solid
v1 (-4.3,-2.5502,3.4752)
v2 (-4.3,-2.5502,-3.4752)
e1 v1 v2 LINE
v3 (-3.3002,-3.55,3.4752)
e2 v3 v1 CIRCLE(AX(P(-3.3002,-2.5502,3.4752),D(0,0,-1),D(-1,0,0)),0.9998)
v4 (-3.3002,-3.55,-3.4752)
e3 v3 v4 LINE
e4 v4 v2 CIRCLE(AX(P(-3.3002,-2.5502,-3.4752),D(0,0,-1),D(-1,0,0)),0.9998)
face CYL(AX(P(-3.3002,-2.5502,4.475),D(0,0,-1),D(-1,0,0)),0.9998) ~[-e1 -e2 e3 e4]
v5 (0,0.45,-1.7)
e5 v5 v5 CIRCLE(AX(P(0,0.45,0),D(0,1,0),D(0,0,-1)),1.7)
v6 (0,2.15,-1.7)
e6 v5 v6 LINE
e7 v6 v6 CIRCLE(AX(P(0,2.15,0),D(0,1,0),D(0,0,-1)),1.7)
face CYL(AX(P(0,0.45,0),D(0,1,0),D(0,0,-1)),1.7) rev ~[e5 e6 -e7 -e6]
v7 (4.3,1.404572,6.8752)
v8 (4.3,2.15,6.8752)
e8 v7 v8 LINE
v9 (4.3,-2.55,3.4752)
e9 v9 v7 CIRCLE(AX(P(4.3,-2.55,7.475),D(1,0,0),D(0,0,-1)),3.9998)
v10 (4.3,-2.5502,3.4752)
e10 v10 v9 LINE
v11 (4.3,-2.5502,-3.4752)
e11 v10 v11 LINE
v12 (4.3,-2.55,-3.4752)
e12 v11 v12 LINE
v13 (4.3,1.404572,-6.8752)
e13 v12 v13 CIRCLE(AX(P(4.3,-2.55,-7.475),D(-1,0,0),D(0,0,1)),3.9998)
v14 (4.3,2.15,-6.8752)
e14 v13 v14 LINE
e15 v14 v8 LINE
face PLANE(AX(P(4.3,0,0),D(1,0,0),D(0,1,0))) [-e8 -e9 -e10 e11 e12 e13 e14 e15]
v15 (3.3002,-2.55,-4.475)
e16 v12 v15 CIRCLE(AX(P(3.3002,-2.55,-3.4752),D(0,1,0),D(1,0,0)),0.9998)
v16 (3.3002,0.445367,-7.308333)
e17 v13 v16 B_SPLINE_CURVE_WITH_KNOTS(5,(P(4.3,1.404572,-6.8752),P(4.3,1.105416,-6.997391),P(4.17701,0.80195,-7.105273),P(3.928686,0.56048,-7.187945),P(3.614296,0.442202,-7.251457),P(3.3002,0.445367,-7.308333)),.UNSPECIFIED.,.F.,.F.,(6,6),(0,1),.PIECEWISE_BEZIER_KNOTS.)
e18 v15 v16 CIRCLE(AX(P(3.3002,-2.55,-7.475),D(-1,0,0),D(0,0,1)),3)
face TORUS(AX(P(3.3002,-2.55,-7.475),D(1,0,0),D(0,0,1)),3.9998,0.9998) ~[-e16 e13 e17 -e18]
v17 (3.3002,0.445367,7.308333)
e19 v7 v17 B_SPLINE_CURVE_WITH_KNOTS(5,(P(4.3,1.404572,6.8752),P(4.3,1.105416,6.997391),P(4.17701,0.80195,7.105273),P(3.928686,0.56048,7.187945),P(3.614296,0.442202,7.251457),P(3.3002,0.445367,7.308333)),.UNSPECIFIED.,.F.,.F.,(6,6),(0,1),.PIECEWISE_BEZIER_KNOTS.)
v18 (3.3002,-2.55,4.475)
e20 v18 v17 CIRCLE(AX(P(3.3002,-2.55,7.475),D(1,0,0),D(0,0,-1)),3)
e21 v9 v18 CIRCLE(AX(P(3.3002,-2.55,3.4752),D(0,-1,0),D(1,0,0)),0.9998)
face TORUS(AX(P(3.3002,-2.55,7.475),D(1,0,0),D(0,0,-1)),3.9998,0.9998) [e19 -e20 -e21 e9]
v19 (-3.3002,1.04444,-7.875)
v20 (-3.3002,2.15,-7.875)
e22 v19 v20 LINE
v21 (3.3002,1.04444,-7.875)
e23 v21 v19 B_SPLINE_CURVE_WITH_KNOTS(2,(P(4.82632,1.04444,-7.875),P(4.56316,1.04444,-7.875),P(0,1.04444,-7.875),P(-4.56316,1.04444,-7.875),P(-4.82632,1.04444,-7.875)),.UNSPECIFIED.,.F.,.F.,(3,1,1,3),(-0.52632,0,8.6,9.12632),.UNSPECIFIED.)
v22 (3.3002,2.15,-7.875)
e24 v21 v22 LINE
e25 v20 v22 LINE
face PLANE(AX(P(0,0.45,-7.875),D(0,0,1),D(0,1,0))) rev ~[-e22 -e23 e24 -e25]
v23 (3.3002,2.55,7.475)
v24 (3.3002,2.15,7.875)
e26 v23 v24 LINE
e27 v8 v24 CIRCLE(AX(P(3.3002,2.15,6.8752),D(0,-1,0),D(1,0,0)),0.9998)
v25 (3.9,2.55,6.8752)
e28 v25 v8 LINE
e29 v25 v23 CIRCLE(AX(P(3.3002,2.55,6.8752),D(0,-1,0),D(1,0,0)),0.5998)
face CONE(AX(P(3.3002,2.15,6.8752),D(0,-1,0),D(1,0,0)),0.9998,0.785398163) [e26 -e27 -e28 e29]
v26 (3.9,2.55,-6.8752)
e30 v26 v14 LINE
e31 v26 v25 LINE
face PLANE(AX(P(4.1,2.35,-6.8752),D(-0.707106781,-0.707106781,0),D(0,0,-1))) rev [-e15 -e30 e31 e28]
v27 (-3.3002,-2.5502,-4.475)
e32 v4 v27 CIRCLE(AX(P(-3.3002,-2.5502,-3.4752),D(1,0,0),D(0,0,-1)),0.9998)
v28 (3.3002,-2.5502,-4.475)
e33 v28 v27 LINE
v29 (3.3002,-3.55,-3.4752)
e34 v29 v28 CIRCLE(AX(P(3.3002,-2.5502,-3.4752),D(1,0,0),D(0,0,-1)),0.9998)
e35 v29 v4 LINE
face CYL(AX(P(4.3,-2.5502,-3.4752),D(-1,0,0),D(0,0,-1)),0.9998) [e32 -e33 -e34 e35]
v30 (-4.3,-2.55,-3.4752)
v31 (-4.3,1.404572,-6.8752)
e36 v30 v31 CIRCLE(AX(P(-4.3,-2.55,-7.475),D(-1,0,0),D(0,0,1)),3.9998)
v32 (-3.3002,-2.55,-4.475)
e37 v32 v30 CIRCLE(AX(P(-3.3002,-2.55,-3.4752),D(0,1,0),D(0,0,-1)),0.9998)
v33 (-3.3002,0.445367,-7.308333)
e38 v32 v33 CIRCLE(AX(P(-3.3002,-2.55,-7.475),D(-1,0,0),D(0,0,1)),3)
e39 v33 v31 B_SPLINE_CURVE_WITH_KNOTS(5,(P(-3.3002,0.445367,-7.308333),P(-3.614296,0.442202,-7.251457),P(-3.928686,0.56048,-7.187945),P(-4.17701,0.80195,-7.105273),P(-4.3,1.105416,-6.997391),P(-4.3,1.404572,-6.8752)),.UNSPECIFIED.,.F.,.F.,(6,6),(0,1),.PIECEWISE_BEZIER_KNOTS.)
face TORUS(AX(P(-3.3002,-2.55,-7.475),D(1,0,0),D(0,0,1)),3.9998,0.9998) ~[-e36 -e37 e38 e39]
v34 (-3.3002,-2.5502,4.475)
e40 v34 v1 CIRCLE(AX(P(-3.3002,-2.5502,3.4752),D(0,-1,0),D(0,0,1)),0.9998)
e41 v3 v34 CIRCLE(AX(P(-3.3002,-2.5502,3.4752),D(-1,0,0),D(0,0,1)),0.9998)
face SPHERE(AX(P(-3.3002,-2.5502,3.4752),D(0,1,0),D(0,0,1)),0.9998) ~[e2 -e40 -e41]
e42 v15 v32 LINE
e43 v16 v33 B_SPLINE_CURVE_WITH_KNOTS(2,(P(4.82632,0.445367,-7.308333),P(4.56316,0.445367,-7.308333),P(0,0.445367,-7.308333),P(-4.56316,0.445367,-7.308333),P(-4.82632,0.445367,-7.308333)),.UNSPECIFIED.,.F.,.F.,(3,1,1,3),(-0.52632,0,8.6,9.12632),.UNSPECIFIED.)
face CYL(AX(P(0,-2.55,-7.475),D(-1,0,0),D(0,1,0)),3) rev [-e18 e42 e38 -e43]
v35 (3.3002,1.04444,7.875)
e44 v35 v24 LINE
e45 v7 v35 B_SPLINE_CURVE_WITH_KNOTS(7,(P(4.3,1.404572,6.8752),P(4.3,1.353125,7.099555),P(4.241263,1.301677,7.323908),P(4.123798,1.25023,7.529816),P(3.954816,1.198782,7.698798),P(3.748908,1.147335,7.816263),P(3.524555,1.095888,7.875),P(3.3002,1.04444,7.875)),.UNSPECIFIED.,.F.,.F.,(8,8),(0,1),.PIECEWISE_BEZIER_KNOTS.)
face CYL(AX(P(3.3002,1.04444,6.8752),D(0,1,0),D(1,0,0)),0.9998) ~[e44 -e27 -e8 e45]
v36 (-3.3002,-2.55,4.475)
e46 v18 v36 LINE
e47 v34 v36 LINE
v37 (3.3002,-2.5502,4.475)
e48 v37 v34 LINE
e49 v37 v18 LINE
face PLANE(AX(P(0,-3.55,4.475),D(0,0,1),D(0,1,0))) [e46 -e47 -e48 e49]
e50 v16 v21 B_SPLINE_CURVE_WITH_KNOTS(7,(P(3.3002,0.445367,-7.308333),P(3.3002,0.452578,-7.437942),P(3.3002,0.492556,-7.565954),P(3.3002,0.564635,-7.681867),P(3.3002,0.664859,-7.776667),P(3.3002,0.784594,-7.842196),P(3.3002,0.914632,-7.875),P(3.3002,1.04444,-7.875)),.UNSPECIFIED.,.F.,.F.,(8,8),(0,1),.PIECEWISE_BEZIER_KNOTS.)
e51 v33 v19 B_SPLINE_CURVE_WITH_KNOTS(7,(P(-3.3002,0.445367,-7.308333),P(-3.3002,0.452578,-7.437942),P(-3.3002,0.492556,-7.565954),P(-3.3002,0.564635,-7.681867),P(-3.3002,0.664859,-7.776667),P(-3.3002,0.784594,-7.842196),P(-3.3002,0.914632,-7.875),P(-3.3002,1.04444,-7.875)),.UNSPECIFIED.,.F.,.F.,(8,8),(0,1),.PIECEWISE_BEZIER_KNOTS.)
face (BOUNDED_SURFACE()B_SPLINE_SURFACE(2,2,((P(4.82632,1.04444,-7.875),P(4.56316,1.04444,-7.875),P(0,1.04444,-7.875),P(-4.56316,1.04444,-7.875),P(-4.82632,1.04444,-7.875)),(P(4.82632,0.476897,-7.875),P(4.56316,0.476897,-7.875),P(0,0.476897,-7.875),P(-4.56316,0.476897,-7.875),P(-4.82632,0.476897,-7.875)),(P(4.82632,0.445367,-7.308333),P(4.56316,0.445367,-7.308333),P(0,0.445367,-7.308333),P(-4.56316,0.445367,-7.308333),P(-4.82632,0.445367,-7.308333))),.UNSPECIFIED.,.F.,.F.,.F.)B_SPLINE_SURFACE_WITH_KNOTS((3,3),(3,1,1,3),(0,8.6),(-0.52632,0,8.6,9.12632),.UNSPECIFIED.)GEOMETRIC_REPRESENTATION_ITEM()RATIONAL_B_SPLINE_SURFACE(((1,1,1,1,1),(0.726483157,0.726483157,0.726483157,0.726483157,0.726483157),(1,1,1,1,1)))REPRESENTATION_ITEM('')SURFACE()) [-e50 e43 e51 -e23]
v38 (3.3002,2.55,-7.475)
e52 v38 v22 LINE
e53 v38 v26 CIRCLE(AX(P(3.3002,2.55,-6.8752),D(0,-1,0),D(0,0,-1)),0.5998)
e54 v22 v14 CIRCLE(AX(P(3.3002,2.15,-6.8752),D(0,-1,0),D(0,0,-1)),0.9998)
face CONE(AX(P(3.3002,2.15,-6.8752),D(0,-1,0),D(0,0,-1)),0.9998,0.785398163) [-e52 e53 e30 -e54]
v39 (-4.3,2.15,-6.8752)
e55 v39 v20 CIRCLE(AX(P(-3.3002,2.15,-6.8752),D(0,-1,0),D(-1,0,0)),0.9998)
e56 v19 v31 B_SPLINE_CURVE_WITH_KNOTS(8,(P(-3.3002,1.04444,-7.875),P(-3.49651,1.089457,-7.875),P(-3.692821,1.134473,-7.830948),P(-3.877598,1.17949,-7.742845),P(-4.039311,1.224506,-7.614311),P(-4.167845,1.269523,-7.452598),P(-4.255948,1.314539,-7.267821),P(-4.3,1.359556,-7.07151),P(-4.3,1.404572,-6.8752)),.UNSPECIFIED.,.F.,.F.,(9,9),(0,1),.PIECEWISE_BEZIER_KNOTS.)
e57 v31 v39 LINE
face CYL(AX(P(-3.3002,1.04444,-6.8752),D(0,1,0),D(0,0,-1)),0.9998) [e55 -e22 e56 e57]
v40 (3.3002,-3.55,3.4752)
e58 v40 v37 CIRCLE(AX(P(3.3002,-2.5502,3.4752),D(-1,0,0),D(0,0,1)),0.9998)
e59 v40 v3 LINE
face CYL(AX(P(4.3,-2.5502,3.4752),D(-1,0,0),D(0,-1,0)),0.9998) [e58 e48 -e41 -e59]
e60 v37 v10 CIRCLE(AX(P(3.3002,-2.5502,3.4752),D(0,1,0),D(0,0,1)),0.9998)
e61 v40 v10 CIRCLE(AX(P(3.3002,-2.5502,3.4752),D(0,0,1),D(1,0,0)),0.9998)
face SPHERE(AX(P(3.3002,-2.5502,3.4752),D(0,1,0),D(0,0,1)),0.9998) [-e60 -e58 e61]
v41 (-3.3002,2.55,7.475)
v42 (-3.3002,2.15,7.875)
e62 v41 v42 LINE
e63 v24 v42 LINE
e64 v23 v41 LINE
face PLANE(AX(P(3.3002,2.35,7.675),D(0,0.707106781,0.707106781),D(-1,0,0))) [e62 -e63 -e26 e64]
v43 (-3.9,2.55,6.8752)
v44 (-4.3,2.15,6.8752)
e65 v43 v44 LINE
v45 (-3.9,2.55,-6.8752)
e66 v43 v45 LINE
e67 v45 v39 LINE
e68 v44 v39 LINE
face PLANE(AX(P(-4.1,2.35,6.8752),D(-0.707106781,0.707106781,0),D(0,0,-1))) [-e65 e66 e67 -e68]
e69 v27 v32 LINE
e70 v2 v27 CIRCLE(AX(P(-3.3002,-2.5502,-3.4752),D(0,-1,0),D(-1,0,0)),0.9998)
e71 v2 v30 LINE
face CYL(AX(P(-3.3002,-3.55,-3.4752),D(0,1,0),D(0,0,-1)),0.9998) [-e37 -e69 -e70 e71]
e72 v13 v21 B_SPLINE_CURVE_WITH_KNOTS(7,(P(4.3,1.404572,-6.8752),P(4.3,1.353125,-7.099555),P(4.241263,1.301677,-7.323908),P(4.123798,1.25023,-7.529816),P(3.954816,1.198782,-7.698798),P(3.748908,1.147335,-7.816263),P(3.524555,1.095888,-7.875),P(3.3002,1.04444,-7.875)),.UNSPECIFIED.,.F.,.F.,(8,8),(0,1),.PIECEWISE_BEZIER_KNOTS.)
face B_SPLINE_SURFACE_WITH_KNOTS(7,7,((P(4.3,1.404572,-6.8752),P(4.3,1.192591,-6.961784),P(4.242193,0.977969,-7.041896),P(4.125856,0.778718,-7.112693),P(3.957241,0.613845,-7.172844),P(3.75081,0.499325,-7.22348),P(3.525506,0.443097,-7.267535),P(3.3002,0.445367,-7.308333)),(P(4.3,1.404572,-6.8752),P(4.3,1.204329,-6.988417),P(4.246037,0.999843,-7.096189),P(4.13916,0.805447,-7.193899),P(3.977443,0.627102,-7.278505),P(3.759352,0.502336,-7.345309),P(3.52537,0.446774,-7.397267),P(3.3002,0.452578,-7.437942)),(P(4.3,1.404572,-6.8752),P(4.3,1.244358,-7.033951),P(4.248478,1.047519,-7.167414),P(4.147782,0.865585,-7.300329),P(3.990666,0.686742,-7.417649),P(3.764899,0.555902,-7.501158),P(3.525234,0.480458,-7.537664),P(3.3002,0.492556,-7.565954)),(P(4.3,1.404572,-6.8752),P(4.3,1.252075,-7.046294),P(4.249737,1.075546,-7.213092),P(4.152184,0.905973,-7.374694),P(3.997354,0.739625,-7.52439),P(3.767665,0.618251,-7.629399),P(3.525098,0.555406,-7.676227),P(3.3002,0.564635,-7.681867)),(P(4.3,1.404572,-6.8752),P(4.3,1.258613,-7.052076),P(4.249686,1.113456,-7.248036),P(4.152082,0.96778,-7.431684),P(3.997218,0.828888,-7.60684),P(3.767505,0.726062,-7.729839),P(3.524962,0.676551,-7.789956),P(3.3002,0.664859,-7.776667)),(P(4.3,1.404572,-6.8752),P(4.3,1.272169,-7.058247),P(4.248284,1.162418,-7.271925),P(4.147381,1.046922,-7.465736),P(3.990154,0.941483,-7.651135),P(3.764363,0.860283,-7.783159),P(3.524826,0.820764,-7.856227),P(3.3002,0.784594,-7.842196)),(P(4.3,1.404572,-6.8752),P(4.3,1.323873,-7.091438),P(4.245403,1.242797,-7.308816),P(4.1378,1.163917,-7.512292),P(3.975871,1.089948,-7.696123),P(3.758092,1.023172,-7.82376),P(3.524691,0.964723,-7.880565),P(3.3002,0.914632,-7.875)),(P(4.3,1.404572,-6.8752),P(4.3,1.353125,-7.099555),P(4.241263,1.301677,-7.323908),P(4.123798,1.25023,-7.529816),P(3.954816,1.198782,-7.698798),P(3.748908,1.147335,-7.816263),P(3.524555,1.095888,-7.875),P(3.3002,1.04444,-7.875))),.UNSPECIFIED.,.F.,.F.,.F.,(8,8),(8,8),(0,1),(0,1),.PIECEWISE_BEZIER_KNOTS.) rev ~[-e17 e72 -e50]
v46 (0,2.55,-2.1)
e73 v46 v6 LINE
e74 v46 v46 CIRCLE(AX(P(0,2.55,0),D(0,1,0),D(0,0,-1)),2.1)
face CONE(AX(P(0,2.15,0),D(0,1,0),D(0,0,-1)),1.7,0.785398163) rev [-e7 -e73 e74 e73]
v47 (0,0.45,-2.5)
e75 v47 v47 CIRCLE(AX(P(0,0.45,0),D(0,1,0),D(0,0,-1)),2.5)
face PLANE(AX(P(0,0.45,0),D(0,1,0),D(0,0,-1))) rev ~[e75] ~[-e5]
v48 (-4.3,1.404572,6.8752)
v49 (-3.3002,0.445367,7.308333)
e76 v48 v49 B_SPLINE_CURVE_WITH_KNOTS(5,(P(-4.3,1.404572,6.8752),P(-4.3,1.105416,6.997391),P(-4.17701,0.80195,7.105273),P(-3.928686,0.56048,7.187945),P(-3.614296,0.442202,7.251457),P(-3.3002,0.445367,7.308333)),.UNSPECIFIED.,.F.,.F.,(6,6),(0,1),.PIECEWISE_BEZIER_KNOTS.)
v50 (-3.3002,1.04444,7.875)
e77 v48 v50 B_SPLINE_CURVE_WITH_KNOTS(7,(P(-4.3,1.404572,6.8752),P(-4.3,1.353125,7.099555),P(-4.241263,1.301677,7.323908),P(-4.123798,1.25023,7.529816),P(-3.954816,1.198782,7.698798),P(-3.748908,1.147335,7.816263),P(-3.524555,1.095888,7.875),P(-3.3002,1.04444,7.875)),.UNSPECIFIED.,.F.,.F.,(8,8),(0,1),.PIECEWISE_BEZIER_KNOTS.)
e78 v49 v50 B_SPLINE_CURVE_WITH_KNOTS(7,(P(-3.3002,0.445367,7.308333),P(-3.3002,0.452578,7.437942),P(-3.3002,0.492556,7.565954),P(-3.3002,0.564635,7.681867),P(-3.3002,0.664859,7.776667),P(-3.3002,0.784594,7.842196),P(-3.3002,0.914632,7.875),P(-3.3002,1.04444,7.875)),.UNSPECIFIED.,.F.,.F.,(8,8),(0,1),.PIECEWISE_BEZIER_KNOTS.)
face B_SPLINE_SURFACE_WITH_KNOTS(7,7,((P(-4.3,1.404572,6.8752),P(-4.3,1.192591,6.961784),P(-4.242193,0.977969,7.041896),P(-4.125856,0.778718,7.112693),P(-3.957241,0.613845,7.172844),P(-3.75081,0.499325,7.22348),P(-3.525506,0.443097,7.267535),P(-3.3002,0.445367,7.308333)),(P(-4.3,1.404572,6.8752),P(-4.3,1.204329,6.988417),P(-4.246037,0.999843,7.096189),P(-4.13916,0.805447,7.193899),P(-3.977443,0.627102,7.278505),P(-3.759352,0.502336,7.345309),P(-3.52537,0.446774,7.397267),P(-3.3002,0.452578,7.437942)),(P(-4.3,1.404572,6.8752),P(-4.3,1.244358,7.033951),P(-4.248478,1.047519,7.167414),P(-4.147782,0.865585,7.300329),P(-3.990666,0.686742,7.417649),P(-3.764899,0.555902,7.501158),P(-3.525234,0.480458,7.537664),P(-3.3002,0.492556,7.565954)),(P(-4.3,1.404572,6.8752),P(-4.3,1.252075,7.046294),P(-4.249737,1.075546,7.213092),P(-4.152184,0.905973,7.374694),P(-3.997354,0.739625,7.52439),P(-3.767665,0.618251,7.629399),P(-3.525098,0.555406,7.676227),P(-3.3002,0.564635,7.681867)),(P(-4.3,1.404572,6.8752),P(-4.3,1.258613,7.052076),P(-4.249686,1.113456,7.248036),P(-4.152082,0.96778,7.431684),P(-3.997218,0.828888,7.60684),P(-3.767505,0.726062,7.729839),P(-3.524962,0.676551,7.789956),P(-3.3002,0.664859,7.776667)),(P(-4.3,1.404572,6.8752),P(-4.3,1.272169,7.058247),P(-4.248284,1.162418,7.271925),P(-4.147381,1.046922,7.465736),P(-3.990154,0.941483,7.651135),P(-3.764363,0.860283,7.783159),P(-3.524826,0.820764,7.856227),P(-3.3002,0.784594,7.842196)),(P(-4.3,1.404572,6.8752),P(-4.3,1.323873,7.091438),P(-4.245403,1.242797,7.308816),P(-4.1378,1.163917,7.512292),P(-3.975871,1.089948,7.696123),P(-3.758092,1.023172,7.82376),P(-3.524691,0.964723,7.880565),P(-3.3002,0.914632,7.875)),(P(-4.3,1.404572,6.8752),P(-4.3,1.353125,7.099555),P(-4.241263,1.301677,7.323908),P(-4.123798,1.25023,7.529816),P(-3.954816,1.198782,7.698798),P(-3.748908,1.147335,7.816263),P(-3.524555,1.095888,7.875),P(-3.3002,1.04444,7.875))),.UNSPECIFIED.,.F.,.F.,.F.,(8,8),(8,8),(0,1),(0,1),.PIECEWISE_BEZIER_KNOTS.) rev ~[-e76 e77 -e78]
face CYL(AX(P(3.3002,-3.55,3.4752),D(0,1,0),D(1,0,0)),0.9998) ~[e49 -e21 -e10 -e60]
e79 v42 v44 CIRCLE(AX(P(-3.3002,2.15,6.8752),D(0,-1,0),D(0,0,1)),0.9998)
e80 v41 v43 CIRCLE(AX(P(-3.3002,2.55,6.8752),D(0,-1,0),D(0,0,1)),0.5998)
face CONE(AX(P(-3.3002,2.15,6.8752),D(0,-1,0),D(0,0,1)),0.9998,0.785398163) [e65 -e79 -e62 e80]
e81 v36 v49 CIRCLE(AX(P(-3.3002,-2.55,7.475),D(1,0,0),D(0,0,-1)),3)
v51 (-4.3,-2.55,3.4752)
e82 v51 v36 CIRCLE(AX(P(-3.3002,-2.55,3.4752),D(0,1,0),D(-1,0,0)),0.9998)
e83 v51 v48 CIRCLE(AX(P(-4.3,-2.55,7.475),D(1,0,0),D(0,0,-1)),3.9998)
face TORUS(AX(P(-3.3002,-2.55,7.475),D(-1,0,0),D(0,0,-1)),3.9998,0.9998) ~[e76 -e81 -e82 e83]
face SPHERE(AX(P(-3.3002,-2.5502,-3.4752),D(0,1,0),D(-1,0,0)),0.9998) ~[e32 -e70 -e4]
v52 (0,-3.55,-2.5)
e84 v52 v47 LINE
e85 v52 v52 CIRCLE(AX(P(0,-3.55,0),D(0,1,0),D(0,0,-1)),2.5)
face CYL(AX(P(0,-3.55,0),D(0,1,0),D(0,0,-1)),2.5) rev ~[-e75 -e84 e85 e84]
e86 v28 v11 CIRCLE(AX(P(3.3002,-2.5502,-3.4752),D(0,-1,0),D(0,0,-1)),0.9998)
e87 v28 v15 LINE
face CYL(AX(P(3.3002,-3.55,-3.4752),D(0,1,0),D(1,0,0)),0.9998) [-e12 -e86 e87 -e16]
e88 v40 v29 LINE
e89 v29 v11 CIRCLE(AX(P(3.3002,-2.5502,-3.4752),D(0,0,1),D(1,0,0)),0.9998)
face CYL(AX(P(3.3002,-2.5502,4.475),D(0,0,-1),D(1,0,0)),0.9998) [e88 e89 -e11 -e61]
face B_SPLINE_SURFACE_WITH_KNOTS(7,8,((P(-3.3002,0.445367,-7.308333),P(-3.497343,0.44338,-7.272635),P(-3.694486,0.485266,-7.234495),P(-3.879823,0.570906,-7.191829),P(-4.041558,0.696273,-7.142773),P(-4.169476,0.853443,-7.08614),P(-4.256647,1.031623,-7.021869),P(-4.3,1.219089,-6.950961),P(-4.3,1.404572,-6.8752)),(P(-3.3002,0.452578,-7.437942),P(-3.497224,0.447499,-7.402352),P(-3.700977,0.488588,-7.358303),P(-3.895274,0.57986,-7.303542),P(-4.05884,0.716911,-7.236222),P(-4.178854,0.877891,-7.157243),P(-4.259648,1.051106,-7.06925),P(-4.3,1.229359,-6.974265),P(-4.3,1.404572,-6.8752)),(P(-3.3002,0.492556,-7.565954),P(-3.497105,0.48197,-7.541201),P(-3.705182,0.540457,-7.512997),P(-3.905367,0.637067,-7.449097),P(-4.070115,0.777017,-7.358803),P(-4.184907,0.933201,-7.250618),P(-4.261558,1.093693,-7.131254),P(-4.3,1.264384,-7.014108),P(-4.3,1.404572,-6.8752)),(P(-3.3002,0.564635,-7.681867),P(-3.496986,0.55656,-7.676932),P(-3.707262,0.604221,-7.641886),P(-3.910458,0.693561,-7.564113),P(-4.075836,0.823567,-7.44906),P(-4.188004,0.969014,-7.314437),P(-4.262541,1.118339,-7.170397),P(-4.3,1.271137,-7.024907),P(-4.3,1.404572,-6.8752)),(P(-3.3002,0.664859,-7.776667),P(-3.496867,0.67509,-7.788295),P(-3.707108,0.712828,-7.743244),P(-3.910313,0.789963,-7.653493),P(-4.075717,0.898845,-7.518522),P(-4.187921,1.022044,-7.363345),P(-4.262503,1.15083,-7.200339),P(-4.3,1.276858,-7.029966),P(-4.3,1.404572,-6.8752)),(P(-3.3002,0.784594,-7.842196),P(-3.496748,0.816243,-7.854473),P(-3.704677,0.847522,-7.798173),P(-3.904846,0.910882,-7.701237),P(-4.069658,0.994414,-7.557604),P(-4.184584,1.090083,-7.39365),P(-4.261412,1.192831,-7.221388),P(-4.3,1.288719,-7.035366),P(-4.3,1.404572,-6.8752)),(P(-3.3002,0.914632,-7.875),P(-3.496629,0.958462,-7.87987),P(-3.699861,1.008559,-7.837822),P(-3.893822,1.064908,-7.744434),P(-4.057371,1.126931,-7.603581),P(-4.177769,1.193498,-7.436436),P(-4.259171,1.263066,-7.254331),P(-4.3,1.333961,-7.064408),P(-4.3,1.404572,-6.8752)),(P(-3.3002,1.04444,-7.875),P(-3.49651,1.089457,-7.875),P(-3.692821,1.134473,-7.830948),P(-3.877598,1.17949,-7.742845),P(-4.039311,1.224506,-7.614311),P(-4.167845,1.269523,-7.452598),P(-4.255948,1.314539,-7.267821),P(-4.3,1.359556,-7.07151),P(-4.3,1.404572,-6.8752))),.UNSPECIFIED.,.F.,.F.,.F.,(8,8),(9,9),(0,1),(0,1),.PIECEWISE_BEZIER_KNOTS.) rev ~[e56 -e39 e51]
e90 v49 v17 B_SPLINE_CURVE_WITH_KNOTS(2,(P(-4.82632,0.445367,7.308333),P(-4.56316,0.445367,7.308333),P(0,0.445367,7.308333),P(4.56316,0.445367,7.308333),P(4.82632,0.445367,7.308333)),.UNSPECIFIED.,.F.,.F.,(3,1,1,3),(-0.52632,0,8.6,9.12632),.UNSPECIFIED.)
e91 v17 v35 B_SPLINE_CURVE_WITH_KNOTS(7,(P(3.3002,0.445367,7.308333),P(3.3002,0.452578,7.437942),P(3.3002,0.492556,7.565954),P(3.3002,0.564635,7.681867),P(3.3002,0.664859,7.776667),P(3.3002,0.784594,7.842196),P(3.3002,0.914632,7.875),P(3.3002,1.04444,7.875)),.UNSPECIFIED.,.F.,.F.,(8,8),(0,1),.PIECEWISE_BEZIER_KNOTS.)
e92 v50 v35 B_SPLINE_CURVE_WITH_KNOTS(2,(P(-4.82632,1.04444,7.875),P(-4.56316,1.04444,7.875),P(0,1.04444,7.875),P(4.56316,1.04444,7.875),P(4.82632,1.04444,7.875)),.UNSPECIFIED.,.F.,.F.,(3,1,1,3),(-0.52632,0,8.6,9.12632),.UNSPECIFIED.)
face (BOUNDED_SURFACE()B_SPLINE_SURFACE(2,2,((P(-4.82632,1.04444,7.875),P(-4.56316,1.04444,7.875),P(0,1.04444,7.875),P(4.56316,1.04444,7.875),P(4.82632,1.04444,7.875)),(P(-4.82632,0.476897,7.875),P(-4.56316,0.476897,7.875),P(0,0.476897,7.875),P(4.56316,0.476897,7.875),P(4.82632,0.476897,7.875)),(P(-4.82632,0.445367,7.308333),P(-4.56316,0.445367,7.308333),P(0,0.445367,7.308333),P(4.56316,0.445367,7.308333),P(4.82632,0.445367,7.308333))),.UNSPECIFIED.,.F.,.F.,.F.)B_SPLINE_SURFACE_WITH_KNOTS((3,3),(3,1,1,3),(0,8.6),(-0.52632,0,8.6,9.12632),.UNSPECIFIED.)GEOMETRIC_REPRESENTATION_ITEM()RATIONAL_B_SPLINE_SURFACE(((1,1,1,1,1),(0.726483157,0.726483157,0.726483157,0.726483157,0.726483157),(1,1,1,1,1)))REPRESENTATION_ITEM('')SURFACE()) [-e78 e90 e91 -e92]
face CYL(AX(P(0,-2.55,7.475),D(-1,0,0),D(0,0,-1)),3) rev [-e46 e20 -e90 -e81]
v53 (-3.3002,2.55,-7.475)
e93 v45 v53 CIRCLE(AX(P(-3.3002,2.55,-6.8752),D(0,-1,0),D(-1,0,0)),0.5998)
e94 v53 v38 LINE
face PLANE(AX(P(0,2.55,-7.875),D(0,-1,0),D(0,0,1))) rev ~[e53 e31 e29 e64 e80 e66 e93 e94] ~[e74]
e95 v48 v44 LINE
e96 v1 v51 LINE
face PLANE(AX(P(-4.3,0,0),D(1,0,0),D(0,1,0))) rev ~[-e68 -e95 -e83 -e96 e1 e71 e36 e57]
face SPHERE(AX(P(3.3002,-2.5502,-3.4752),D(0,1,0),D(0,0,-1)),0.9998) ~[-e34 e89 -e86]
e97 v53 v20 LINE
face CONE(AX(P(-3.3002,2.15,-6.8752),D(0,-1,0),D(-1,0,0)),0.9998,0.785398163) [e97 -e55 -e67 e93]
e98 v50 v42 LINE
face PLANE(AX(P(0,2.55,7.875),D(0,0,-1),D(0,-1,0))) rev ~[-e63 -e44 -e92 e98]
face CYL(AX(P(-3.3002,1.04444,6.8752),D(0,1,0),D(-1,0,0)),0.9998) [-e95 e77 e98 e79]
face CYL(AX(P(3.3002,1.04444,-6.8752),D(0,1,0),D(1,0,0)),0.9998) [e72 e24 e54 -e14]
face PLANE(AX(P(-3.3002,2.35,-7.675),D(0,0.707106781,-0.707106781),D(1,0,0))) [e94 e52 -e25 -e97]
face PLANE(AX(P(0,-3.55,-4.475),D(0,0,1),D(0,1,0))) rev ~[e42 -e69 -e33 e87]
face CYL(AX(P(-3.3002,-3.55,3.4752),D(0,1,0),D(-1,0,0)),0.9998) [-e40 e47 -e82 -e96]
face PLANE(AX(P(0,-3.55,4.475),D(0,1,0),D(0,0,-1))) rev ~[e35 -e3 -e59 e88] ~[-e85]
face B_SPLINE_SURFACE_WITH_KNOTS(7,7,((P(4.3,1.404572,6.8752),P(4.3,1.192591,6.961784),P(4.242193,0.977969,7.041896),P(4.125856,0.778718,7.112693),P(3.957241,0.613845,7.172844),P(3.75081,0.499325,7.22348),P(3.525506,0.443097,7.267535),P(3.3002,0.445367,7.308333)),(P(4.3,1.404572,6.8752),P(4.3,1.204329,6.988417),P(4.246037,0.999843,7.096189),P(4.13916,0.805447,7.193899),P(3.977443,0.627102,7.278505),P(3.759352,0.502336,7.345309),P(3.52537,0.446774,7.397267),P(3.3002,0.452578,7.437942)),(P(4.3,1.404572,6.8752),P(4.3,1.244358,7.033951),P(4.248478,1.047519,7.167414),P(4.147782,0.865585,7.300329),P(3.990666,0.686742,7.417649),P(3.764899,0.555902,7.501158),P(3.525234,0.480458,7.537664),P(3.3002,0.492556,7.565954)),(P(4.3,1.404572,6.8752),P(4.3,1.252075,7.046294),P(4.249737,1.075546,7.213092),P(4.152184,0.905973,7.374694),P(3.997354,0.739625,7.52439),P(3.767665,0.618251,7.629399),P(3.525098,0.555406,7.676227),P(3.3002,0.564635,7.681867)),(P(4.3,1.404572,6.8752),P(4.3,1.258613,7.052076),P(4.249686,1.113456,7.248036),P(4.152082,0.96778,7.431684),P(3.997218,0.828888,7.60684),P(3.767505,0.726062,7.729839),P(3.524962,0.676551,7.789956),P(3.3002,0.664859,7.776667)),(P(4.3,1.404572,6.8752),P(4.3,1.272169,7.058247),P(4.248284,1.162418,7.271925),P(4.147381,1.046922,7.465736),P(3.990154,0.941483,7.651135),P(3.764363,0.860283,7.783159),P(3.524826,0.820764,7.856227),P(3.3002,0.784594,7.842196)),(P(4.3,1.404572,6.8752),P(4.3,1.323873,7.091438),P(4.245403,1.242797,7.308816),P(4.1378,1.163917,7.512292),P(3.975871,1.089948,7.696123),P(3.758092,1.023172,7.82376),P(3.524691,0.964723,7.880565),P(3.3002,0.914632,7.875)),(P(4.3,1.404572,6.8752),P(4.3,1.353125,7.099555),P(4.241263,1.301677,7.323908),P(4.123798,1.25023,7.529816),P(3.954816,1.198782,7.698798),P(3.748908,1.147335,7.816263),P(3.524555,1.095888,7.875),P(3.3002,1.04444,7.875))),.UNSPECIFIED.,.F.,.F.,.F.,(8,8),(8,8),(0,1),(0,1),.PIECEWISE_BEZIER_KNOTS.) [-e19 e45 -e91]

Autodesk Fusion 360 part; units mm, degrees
sketch "Sketch1" plane through (0, 0, 0) normal (0, 1, 0) x (1, 0, 0) in component "[a]_belt_clamp_x2"
  line L0 (4.25, 7.875) -> (-4.25, 7.875)
  line L1 (-4.25, 7.875) -> (-4.25, -7.875)
  line L2 (-4.25, -7.875) -> (4.25, -7.875)
  line L3 (4.25, -7.875) -> (4.25, 7.875)
  line L4 (4.25, 7.875) -> (-4.25, -7.875) construction
  line L5 (-4.25, 7.875) -> (4.25, -7.875) construction
  dimension "d1" = 8.5
  dimension "d2" = 15.75
sketch "Sketch2" plane through (0, 0, 0) normal (1, 0, 0) x (0, 1, 0) in component "[a]_belt_clamp_x2"
  line L0 (2.55, 7.875) -> (-3.55, 7.875)
  line L1 (-3.55, 7.875) -> (-3.55, -7.875)
  line L2 (-3.55, -7.875) -> (2.55, -7.875)
  line L3 (2.55, -7.875) -> (2.55, 7.875)
  line L4 (2.55, 7.875) -> (-3.55, -7.875) construction
  line L5 (-3.55, 7.875) -> (2.55, -7.875) construction
  line L6 (-3.55, 4.475) -> (-2.55, 4.475)
  line L7 (0.45, 7.475) -> (0.45, 7.875)
  arc A0 (-2.55, 4.475) -> (0.45, 7.475) centre (-2.55, 7.475) ccw
  line L8 (0, 0) -> (-7.5, 0) construction
  line L9 (-3.55, -4.475) -> (-2.55, -4.475)
  arc A1 (0.45, -7.475) -> (-2.55, -4.475) centre (-2.55, -7.475) ccw
  line L10 (0.45, -7.475) -> (0.45, -7.875)
  point P0 (-0.5, 0)
  dimension "d8" = 6.1
  dimension "d9" = 15.75
  dimension "d10" = 3
  dimension "d11" = 3.4
  dimension "d12" = 3
  dimension "d13" = 1
extrude "Extrude2" add sketch "Sketch2" along normal mid plane 8.6 contours L0 L1 L2 L3 L6 L7 A0 L9 A1 L10 in component "[a]_belt_clamp_x2"
fillet "Fillet1" radius 0.6 2 edges at (0, 0.45, 7.875) (0, 0.45, -7.875) in component "[a]_belt_clamp_x2"
fillet "Fillet2" radius 1 20 edges at (-4.3, -3.05, 4.475) (-4.3, -0.4884, 5.2956) (-4.3, 0.6321, 7.7109) (-4.3, 1.7972, 7.875) (4.3, -3.05, 4.475) (4.3, -0.4884, 5.2956) (4.3, 0.6321, 7.7109) (4.3, 1.7972, 7.875) (-4.3, 1.7972, -7.875) (-4.3, 0.6321, -7.7109) (-4.3, -0.4884, -5.2956) (-4.3, -3.05, -4.475) (4.3, -3.05, -4.475) (4.3, -0.4884, -5.2956) (4.3, 0.6321, -7.7109) (4.3, 1.7972, -7.875) (0, -3.55, 4.475) (-4.3, -3.55, 0) (0, -3.55, -4.475) (4.3, -3.55, 0) in component "[a]_belt_clamp_x2"
hole "Hole1" at (0, -3.55, 0) direction (0, 1, 0) diameter 5 depth 4 tip angle 180 in component "[a]_belt_clamp_x2"
hole "Hole2" at (0, 0.45, 0) direction (0, 1, 0) diameter 3.4 end through all in component "[a]_belt_clamp_x2"
chamfer "Chamfer1" distance 0.4 angle 45 9 edges at (4.0071, 2.55, 7.5821) (0, 2.55, 7.875) (-4.0071, 2.55, 7.5821) (-4.3, 2.55, 0) (-4.0071, 2.55, -7.5821) (0, 2.55, -7.875) (4.0071, 2.55, -7.5821) (4.3, 2.55, 0) (-0.6147, 2.55, 1.585) in component "[a]_belt_clamp_x2"
component "[a]_belt_clamp_x2" placed x (1, 0, 0) y (0, 1, 0) z (0, 0, 1) at (0, 0, 0)
equation "d2 = ab_belt_width * 2 + 3.75 mm"
equation "ab_belt_width = 6 mm"
equation "d9 = ab_belt_width * 2 + 3.75 mm"
equation "d21 = ( 2.5 * 2 ) * 1 mm"
equation "d24 = ( 1.7 * 2 ) * 1 mm"
